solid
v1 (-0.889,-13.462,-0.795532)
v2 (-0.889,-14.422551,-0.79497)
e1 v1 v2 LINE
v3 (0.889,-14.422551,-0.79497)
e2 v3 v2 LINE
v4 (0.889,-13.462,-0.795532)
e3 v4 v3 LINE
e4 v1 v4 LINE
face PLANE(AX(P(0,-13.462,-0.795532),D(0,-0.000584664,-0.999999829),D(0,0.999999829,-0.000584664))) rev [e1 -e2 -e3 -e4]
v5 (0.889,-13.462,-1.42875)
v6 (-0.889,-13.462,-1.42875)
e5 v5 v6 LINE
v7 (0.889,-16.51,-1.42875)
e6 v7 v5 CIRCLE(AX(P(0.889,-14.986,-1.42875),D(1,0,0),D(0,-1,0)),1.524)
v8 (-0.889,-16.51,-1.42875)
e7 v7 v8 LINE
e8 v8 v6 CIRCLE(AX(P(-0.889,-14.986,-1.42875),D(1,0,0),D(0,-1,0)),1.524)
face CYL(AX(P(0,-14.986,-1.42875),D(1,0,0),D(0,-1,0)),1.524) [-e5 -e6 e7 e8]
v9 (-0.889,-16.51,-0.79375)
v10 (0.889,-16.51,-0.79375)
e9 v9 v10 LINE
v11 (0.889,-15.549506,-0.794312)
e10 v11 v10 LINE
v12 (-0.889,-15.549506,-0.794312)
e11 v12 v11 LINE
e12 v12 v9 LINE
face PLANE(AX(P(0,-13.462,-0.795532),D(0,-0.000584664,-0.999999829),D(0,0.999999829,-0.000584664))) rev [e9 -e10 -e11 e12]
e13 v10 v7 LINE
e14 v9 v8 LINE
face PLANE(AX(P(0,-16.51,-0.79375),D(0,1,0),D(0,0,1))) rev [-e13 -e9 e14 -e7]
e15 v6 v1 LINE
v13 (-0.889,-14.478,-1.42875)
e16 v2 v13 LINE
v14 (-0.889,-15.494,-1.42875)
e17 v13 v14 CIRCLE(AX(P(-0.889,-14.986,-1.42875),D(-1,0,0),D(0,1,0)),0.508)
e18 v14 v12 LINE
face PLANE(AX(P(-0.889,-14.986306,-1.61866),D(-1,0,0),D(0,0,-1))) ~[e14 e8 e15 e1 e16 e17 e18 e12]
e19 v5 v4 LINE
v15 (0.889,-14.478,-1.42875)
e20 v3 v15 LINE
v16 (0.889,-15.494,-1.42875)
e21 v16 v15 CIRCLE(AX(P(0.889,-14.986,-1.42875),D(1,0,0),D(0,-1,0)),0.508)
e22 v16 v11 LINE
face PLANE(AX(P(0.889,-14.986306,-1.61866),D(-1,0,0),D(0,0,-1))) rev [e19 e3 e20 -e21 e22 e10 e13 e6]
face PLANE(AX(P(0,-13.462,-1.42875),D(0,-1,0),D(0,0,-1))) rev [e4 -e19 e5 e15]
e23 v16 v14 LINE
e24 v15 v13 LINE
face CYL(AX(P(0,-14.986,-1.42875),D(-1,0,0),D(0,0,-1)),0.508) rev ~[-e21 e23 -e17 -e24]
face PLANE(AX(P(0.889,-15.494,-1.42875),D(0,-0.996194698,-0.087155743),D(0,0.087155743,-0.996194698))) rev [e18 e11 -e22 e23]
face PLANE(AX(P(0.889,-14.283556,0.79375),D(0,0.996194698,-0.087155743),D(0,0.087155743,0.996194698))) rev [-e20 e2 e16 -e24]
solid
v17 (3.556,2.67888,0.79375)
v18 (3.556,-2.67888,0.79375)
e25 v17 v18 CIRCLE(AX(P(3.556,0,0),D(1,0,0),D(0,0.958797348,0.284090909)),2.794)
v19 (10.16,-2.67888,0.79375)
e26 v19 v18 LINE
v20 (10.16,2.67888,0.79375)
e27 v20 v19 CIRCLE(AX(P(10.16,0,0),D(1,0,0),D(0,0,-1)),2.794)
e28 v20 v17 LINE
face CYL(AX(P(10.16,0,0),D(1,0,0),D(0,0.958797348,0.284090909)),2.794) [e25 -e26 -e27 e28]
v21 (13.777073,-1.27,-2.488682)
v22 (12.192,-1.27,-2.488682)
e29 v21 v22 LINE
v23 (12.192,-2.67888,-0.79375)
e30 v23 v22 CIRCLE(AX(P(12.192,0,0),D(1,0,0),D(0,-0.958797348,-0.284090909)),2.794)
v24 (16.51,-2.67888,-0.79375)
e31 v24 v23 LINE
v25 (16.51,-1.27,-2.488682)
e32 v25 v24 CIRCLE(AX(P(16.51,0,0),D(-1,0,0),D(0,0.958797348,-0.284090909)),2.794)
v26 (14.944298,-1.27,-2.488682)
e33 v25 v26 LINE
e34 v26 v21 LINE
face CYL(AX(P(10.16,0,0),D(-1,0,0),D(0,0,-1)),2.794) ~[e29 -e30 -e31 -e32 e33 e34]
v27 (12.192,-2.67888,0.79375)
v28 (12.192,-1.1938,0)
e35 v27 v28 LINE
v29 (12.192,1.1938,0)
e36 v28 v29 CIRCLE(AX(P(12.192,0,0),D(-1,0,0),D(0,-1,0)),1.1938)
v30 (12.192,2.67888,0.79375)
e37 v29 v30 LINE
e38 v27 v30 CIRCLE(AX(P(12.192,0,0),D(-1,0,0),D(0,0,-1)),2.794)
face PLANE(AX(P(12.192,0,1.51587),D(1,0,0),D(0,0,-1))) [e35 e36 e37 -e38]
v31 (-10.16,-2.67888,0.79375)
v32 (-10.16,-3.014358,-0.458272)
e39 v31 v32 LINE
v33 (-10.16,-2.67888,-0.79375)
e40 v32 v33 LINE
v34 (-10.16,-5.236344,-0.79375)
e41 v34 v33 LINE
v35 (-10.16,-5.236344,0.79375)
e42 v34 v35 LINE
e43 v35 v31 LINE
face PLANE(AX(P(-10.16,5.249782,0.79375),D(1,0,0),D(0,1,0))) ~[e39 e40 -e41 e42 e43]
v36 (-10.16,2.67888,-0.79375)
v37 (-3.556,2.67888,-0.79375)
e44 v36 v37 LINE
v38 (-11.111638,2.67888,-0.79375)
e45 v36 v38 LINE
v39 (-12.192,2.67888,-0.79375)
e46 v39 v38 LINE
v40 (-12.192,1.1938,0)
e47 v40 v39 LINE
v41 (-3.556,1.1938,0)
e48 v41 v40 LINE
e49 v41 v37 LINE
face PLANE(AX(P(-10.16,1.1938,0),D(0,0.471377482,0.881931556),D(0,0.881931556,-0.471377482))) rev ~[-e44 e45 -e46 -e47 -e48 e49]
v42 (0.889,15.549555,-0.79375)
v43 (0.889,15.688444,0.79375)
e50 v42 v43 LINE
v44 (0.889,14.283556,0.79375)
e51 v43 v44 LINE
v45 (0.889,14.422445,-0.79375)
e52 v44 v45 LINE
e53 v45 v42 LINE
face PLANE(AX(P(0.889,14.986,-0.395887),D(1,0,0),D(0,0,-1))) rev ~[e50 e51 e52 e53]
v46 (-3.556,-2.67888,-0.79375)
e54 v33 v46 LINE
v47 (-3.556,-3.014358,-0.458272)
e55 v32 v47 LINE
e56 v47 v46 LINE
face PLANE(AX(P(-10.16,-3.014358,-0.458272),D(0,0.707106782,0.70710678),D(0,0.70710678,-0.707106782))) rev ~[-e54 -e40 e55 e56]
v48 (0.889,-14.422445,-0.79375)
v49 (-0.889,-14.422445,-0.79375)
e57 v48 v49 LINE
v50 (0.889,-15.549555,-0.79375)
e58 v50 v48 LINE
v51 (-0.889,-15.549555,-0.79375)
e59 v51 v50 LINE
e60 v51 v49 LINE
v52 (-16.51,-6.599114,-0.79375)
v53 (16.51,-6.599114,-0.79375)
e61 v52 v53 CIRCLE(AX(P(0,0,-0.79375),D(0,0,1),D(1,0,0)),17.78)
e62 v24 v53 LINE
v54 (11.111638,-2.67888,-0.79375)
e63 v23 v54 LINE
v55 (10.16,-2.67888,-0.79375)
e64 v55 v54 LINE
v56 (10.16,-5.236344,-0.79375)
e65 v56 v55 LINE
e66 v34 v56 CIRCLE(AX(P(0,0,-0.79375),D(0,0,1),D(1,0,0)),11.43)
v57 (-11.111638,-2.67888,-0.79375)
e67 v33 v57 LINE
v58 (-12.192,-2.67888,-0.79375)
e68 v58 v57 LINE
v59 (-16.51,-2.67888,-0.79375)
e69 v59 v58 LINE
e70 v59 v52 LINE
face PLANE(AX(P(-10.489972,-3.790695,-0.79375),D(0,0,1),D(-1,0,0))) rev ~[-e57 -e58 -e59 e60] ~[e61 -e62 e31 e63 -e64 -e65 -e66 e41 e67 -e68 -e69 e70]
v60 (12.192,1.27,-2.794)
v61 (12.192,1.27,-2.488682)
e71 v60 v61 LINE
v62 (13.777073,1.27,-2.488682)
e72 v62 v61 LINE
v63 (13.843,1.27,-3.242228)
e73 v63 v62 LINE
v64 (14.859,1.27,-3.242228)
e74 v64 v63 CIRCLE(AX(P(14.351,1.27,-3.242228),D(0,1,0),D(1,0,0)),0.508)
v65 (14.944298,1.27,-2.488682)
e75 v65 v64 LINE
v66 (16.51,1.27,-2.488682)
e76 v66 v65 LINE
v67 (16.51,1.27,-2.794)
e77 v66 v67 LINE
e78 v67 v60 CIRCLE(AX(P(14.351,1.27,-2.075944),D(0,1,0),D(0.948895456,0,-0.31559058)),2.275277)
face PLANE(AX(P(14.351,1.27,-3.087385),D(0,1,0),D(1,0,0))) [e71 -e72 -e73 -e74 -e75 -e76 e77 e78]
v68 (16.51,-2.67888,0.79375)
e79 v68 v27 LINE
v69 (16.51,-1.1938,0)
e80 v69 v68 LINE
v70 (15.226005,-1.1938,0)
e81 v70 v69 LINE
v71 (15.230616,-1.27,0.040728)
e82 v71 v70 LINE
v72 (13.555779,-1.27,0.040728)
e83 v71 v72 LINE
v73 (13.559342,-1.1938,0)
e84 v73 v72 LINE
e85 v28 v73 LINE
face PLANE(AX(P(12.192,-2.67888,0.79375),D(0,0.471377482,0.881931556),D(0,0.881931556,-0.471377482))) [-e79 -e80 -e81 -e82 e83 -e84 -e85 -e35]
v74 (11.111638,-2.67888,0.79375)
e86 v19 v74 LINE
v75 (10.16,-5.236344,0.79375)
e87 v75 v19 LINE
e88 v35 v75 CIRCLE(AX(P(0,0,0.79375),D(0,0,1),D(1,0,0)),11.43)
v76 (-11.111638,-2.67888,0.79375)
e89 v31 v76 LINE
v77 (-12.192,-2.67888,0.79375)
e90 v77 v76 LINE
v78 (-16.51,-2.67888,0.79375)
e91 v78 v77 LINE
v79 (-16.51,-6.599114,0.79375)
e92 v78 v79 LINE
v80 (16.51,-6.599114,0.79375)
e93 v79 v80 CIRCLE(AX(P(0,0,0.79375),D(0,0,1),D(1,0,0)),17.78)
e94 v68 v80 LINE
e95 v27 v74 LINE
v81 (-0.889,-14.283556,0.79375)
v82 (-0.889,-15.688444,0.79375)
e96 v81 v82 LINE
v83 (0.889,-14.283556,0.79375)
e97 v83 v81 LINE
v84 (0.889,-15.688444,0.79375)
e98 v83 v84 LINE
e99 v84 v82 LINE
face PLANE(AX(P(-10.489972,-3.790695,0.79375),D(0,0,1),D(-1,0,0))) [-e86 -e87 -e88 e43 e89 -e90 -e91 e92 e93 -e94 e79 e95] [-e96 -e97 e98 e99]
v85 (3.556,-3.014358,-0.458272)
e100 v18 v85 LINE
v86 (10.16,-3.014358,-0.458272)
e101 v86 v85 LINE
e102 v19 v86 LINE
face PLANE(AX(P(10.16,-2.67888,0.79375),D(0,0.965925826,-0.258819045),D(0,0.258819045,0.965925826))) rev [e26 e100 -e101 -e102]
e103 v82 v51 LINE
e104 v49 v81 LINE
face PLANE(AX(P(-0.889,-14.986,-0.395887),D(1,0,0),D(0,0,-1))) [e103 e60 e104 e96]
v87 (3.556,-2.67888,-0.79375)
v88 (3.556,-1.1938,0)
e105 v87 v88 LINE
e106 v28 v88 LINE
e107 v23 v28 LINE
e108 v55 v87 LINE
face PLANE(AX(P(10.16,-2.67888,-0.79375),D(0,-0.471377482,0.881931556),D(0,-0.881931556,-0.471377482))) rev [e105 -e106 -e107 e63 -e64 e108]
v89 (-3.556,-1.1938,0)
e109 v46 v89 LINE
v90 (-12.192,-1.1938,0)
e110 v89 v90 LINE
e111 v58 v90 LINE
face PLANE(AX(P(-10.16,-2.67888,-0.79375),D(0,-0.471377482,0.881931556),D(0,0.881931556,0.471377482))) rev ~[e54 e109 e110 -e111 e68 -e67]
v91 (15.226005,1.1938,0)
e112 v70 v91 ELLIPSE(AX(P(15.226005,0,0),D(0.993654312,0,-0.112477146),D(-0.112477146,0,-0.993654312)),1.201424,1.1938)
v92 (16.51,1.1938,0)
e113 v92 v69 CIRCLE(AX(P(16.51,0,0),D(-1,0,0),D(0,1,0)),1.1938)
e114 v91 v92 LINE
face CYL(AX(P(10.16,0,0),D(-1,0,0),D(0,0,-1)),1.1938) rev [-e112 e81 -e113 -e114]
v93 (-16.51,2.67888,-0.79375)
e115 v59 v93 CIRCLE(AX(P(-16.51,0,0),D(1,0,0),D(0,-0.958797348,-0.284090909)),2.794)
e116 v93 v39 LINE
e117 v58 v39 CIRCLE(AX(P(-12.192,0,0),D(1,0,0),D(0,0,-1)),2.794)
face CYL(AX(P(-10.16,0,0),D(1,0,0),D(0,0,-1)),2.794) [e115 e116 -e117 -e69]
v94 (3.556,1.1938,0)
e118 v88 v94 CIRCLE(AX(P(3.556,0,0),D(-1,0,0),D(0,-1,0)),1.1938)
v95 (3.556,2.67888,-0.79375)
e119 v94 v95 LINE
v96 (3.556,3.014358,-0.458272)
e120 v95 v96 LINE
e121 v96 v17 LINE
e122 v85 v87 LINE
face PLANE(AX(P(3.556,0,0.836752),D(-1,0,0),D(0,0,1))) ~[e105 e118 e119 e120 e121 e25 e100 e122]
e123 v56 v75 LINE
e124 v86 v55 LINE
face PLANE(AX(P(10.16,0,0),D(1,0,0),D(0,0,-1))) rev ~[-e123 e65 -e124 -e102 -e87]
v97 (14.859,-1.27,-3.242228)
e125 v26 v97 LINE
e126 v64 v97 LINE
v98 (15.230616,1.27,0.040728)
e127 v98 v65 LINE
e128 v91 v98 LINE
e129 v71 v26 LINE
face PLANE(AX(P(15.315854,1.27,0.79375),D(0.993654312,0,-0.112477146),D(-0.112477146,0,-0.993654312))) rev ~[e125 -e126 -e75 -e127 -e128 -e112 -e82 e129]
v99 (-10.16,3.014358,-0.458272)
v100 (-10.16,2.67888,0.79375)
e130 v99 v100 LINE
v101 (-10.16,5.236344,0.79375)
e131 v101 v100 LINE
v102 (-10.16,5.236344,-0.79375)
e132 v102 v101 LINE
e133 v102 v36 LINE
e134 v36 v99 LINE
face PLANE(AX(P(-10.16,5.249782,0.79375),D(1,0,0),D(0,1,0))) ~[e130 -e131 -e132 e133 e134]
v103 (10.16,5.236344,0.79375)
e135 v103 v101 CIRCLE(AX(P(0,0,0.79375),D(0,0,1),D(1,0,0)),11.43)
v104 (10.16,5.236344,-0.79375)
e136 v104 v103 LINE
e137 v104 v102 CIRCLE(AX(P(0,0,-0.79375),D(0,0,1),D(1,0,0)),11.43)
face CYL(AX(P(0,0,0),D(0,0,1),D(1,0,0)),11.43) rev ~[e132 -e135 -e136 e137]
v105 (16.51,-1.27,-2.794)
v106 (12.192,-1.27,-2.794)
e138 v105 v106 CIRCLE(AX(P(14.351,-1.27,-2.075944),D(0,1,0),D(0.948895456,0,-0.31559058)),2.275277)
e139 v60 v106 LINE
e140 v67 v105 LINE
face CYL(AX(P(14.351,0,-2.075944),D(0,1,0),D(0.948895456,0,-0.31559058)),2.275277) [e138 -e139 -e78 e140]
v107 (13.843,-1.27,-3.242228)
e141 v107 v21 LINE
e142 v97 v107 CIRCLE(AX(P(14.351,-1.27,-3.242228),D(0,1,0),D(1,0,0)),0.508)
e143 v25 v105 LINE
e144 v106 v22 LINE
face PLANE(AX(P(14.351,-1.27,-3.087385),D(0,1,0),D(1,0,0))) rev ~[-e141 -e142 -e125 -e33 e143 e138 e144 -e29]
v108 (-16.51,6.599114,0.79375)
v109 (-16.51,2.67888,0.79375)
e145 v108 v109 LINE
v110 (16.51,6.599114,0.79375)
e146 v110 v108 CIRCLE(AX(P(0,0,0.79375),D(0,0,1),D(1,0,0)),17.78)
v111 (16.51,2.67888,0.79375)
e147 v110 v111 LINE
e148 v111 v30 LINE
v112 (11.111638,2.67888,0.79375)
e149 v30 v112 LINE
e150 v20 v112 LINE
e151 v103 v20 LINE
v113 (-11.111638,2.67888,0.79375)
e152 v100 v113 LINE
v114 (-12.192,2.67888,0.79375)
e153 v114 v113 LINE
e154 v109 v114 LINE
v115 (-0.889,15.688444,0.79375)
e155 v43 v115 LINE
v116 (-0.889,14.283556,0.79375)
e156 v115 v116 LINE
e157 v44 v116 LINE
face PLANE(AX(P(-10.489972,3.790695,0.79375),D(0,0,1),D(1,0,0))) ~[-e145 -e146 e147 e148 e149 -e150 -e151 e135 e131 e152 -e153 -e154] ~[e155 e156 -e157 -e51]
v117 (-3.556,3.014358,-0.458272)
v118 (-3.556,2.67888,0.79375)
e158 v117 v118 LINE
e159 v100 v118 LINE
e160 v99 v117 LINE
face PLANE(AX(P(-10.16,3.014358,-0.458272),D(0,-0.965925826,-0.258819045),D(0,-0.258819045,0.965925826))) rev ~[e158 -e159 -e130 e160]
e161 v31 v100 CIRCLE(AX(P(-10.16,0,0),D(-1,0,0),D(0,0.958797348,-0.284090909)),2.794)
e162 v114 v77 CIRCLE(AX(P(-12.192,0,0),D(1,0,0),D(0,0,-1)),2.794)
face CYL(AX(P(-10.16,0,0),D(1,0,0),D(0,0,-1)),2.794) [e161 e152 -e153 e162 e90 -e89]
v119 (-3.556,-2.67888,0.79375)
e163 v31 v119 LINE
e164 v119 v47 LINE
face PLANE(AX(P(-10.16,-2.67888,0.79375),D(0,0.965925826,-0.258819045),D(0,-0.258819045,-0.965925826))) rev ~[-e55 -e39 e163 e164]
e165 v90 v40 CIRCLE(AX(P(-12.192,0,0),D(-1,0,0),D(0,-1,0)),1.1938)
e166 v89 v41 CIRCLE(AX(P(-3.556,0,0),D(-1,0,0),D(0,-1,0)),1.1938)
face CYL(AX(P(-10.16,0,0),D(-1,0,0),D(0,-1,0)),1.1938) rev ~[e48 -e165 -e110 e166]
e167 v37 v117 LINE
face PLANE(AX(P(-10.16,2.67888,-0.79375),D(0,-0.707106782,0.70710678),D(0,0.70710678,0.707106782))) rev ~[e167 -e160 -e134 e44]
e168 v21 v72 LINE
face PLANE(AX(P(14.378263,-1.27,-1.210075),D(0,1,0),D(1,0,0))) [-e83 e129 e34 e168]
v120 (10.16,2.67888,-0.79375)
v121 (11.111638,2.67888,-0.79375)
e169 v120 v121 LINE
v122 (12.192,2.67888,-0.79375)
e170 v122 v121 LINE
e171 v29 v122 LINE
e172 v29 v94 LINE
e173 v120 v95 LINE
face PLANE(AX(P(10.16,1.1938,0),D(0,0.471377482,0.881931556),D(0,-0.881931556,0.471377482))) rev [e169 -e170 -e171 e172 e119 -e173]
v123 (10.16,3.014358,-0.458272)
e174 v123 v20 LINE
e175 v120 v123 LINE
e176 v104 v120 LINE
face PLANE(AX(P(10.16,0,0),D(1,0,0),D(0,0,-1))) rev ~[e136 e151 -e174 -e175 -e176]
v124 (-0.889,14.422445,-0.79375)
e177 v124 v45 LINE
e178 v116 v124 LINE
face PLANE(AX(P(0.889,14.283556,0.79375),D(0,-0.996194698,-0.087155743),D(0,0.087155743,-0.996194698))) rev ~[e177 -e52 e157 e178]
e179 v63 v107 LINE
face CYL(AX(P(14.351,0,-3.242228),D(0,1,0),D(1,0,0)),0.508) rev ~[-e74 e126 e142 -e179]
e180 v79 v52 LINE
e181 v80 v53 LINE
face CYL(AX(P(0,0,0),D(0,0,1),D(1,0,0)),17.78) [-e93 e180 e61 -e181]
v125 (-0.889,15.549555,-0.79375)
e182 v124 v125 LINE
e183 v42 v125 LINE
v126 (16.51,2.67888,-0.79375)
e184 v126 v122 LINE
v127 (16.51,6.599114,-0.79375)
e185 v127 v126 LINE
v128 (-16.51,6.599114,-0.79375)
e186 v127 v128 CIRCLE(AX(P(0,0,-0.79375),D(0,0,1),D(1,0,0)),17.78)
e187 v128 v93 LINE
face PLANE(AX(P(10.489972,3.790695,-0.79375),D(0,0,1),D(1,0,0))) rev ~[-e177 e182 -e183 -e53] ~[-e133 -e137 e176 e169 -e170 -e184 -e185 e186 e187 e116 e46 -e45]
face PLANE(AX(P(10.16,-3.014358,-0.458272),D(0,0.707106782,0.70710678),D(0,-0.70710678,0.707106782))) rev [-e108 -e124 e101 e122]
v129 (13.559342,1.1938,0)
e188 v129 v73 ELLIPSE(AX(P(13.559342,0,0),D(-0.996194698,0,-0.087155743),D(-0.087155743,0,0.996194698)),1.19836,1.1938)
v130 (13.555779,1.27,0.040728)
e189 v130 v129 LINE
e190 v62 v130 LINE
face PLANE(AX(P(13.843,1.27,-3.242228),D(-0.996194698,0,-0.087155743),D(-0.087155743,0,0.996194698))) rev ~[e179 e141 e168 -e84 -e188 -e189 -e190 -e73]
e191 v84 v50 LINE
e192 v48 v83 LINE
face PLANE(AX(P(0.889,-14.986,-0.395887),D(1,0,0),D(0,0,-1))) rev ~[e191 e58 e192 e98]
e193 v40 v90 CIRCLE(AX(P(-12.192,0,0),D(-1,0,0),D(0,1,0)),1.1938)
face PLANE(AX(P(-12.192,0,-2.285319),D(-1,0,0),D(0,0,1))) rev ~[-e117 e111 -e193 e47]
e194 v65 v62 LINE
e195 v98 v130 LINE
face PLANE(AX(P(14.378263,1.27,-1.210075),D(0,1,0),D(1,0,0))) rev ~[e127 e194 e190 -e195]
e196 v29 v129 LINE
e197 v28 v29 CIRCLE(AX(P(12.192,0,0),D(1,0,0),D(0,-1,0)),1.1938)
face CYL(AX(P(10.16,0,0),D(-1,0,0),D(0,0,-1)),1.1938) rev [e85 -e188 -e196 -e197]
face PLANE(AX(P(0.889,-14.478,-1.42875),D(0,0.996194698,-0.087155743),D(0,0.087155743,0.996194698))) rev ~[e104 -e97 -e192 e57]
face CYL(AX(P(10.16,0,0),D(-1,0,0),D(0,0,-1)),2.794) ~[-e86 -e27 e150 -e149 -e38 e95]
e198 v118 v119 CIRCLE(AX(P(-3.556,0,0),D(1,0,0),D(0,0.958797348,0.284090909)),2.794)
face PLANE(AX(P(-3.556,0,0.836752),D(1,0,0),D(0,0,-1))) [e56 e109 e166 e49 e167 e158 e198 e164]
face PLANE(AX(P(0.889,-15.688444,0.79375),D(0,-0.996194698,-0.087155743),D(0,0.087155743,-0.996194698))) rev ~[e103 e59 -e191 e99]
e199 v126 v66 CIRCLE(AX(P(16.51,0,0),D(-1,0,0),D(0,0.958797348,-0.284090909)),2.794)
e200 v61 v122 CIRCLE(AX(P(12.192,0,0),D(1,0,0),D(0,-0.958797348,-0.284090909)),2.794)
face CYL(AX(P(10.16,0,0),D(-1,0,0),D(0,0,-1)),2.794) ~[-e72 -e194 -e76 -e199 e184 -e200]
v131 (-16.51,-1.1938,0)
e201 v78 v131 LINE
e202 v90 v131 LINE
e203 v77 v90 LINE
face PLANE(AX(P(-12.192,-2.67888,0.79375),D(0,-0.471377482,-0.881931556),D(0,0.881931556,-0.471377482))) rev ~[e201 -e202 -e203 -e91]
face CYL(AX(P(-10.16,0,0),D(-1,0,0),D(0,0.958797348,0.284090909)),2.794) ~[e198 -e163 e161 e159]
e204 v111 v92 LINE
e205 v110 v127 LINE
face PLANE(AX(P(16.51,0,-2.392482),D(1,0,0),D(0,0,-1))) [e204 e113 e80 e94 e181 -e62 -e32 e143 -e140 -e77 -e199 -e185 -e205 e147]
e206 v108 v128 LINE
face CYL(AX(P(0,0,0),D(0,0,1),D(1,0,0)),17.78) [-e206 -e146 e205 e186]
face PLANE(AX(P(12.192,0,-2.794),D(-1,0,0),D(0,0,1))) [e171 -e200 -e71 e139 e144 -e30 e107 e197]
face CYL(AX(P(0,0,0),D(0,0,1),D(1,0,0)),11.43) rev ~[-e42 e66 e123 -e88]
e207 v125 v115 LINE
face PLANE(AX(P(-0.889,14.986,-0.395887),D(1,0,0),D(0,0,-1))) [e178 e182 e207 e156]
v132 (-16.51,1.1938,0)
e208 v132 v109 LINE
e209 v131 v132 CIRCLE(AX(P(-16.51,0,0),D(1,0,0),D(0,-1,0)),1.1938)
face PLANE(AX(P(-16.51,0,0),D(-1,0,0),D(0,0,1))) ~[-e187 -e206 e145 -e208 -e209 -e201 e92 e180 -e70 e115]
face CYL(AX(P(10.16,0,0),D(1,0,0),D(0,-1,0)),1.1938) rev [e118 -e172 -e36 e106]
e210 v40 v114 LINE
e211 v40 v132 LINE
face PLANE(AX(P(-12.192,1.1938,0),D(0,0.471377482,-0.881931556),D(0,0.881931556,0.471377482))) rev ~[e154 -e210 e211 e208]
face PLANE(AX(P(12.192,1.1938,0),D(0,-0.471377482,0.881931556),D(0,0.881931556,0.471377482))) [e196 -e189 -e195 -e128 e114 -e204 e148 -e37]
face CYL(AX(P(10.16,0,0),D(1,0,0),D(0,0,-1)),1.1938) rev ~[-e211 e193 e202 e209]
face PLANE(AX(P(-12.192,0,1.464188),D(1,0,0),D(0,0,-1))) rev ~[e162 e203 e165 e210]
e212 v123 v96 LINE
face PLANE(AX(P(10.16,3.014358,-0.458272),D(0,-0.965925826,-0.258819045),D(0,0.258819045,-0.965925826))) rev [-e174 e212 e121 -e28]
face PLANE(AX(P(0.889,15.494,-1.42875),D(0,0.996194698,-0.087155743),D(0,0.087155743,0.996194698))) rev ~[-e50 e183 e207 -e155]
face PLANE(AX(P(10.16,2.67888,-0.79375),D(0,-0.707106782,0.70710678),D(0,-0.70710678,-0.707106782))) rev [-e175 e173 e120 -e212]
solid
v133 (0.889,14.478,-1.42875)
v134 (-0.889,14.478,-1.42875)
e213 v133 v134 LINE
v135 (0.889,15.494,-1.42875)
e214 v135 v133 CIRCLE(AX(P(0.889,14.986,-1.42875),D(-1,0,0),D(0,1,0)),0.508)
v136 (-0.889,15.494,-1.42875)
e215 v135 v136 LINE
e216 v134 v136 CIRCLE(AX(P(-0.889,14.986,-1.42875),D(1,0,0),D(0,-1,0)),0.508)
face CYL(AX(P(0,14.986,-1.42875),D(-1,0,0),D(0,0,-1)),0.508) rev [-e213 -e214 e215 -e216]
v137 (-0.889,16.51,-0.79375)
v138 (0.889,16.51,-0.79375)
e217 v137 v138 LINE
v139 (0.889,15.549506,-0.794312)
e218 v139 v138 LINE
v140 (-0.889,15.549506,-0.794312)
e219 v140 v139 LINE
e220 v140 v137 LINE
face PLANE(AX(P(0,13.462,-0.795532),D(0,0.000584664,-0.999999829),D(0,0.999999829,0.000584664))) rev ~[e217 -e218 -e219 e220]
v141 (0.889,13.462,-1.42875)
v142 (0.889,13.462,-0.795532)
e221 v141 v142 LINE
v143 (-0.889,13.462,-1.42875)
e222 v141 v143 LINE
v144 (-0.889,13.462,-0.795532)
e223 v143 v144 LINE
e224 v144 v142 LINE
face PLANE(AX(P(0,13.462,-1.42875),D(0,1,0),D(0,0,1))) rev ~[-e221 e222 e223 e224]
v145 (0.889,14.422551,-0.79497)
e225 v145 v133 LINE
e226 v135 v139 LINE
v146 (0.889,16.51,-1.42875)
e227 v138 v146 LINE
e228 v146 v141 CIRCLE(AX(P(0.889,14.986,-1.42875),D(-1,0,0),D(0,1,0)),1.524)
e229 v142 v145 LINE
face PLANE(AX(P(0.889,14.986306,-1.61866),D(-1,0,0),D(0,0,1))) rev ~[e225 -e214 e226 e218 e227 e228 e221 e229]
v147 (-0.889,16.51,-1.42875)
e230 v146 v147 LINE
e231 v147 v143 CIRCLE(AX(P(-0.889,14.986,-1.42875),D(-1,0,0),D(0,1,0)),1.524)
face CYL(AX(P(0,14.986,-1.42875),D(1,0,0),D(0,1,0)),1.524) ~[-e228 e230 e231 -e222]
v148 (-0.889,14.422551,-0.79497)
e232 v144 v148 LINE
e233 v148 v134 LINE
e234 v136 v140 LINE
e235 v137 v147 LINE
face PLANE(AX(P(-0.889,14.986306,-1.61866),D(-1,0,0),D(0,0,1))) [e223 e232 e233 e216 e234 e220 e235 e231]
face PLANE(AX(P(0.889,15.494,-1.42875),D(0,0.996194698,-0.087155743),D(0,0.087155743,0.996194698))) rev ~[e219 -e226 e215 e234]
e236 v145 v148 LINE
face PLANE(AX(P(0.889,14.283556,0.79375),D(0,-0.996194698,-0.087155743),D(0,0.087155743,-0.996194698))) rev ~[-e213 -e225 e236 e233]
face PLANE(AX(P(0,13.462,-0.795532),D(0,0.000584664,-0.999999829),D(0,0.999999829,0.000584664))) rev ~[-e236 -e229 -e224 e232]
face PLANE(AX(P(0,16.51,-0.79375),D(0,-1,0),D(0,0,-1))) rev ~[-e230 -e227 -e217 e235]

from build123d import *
from build123d.topology import SkipClean

# Parameters (mm, degrees)
BOSS_EXTRUDE1_DEPTH                           = 0.79375
BOSS_EXTRUDE1_DEPTH_BACK                      = 0.79375
SKETCH1_R                                     = 17.78
SKETCH1_R_2                                   = 11.43
SKETCH20_R                                    = 2.794
BOSS_EXTRUDE7_DEPTH                           = 6.35
CUT_FOR_SCREW_CLEARANCE_ON_SIDE_DEPTH         = 26.39938485
CUT_FOR_AXLE_DEPTH                            = 33.174893036
CUT_FOR_AXLE_DEPTH_BACK                       = 33.174893036
SKETCH22_R                                    = 1.1938
CUT1_FOR_STRAIGHT_PULL_ON_AXLE_HOLE_DEPTH     = 2.032
CUT2_FOR_STRAIGHT_PULL_ON_AXLE_HOLE_DEPTH     = 34.878306426
X_AXIS_RING_DEPTH                             = 1.27
X_AXIS_RING_DEPTH_BACK                        = 1.27
SKETCH42_R                                    = 0.508
CUT_START                                     = -2.54
CUT_FOR_STRAIGHT_PULL_ON_X_AXIS_RING_DEPTH    = 2.54
Y_AXIS_CONTROL_WIRE_RING_DEPTH                = 0.889
Y_AXIS_CONTROL_WIRE_RING_DEPTH_BACK           = 0.889
SKETCH29_R                                    = 0.508
Y_AXIS_STRAIGHT_PULL_FEATURE_DEPTH            = 1.778
Y_AXIS_STRAIGHT_PULL_FEATURE_ON_MIRRORR_DEPTH = 1.778
BUILD_OUT_MATERIAL_FOR_AXLE_HOLE_DEPTH        = 1.5875
MIRROR17_COPY_1_DEPTH                         = 1.5875
CUT_EXTRUDE1_START                            = -2.032
CUT_EXTRUDE1_DEPTH                            = 2.032
CUT_EXTRUDE2_DEPTH                            = 35.042125789
BOSS_EXTRUDE8_DEPTH                           = 6.604


with BuildPart() as part:
    # Sketch1 → Boss-Extrude1 (new, two sides: drawn at the far end of the back side and taken through both)
    with BuildSketch(Plane.XY.offset(-BOSS_EXTRUDE1_DEPTH_BACK)):
        Circle(SKETCH1_R)
        Circle(SKETCH1_R_2, mode=Mode.SUBTRACT)
    extrude(amount=BOSS_EXTRUDE1_DEPTH + BOSS_EXTRUDE1_DEPTH_BACK)

    # Sketch20 → Boss-Extrude7 (add)
    with BuildSketch(Plane(origin=(10.16, 0, 0), x_dir=(0, 0, -1), z_dir=(1, 0, 0))):
        Circle(SKETCH20_R)
    boss_extrude7 = extrude(amount=BOSS_EXTRUDE7_DEPTH)

    # Sketch21 → cut for screw clearance on side (cut, through all)
    with BuildSketch(Plane.XY.offset(0.79375)):
        Polygon((16.51, 0), (16.51, 6.599113577), (17.78, 6.599113577), (17.78, 0), (17.78, -6.599113577), (16.51, -6.599113577), align=None)
    cut_for_screw_clearance_on_side = extrude(amount=-CUT_FOR_SCREW_CLEARANCE_ON_SIDE_DEPTH, mode=Mode.SUBTRACT)

    # Mirror1: Boss-Extrude7, cut for screw clearance on side across plane
    add(boss_extrude7.mirror(Plane(origin=(0, 0, 0), x_dir=(0, 0, 1), z_dir=(1, 0, 0))))
    add(cut_for_screw_clearance_on_side.mirror(Plane(origin=(0, 0, 0), x_dir=(0, 0, 1), z_dir=(1, 0, 0))), mode=Mode.SUBTRACT)

    # Sketch22 → cut for axle (cut, two sides: drawn at the far end of the back side and taken through both)
    with BuildSketch(Plane(origin=(10.16, 0, 0), x_dir=(0, 0, -1), z_dir=(1, 0, 0)).offset(-CUT_FOR_AXLE_DEPTH_BACK)):
        Circle(SKETCH22_R)
    extrude(amount=CUT_FOR_AXLE_DEPTH + CUT_FOR_AXLE_DEPTH_BACK, mode=Mode.SUBTRACT)

    # Sketch35 → cut1 for straight pull on axle hole (cut)
    with BuildSketch(Plane.ZY.offset(-10.16)):
        with BuildLine():
            Line((0, 1.1938), (-0.79375, 2.678879792))
            Line((-0.79375, 2.678879792), (-3.088550318, 2.678879792))
            Line((-3.088550318, 2.678879792), (-3.088550318, -2.678879792))
            Line((-3.088550318, -2.678879792), (-0.79375, -2.678879792))
            Line((-0.79375, -2.678879792), (0, -1.1938))
            ThreePointArc((0, -1.1938), (1.1938, 0), (0, 1.1938))
        make_face()
    extrude(amount=-CUT1_FOR_STRAIGHT_PULL_ON_AXLE_HOLE_DEPTH, mode=Mode.SUBTRACT)

    # Sketch41 → cut2 for straight pull on axle hole (cut, through all)
    with BuildSketch(Plane.ZY.offset(-12.192)):
        with BuildLine():
            Line((0, 1.1938), (0.79375, 2.678879792))
            Line((0.79375, 2.678879792), (3.158535805, 2.885771741))
            Line((3.158535805, 2.885771741), (3.158535805, -2.885771741))
            Line((3.158535805, -2.885771741), (0.79375, -2.678879792))
            Line((0.79375, -2.678879792), (0, -1.1938))
            ThreePointArc((0, -1.1938), (-1.1938, 0), (0, 1.1938))
        make_face()
    extrude(amount=-CUT2_FOR_STRAIGHT_PULL_ON_AXLE_HOLE_DEPTH, mode=Mode.SUBTRACT)

    # Sketch42 → x axis ring (add, two sides: drawn at the far end of the back side and taken through both)
    with BuildSketch(Plane(origin=(0, 0, 0), x_dir=(1, 0, 0), z_dir=(0, 1, 0)).offset(-X_AXIS_RING_DEPTH_BACK)):
        with BuildLine():
            Line((12.192, 2.794), (12.192, 2.392482279))
            Line((12.192, 2.392482279), (16.51, 2.392482279))
            Line((16.51, 2.392482279), (16.51, 2.794))
            ThreePointArc((16.51, 2.794), (14.351, 4.351221008), (12.192, 2.794))
        make_face()
        with Locations((14.351, 3.242227956)):
            Circle(SKETCH42_R, mode=Mode.SUBTRACT)
    extrude(amount=X_AXIS_RING_DEPTH + X_AXIS_RING_DEPTH_BACK)

    # Sketch43 → cut for straight pull on x axis ring (cut)
    with BuildSketch(Plane(origin=(0, 1.27, 0), x_dir=(1, 0, 0), z_dir=(0, 1, 0)).offset(CUT_START)):
        with BuildLine():
            Line((13.843, 3.242227956), (13.489897683, -0.79375))
            Line((13.489897683, -0.79375), (15.315854335, -0.79375))
            Line((15.315854335, -0.79375), (14.859, 3.242227956))
            ThreePointArc((14.859, 3.242227956), (14.351, 3.750227956), (13.843, 3.242227956))
        make_face()
    extrude(amount=CUT_FOR_STRAIGHT_PULL_ON_X_AXIS_RING_DEPTH, mode=Mode.SUBTRACT)


with BuildPart() as body_2:
    # Sketch29 → y axis control wire ring (new, two sides: drawn at the far end of the back side and taken through both)
    with BuildSketch(Plane(origin=(0, 0, 0), x_dir=(0, 0, -1), z_dir=(1, 0, 0)).offset(-Y_AXIS_CONTROL_WIRE_RING_DEPTH_BACK)):
        with BuildLine():
            Line((0.79375, 16.51), (1.42875, 16.51))
            ThreePointArc((1.42875, 16.51), (2.95275, 14.986), (1.42875, 13.462))
            Line((1.42875, 13.462), (0.795532055, 13.462))
            Line((0.795532055, 13.462), (0.79375, 16.51))
        make_face()
        with Locations((1.42875, 14.986)):
            Circle(SKETCH29_R, mode=Mode.SUBTRACT)
    extrude(amount=Y_AXIS_CONTROL_WIRE_RING_DEPTH + Y_AXIS_CONTROL_WIRE_RING_DEPTH_BACK)


with BuildPart() as y_axis_straight_pull_feature_tool:
    # Sketch30 → y axis straight pull feature (new body)
    with BuildSketch(Plane(origin=(0.889, 0, 0), x_dir=(0, 0, -1), z_dir=(1, 0, 0))):
        with BuildLine():
            Line((1.42875, 15.494), (-0.79375, 15.688443555))
            Line((-0.79375, 15.688443555), (-0.79375, 14.283556445))
            Line((-0.79375, 14.283556445), (1.42875, 14.478))
            ThreePointArc((1.42875, 14.478), (1.93675, 14.986), (1.42875, 15.494))
        make_face()
    extrude(amount=-Y_AXIS_STRAIGHT_PULL_FEATURE_DEPTH)


with BuildPart() as part_1:
    add(part.part)

    # y axis straight pull feature: cut by y_axis_straight_pull_feature_tool
    add(y_axis_straight_pull_feature_tool.part, mode=Mode.SUBTRACT)

    # Sketch31 → y axis straight pull feature on mirrorr (cut)
    with BuildSketch(Plane(origin=(0.889, 0, 0), x_dir=(0, 0, -1), z_dir=(1, 0, 0))):
        with BuildLine():
            Line((1.42875, -14.478), (-0.79375, -14.283556445))
            Line((-0.79375, -14.283556445), (-0.79375, -15.688443555))
            Line((-0.79375, -15.688443555), (1.42875, -15.494))
            ThreePointArc((1.42875, -15.494), (1.93675, -14.986), (1.42875, -14.478))
        make_face()
    extrude(amount=-Y_AXIS_STRAIGHT_PULL_FEATURE_ON_MIRRORR_DEPTH, mode=Mode.SUBTRACT)

    # Sketch40 → build out material for axle hole (add)
    with BuildSketch(Plane.XY.offset(0.79375)):
        Polygon((10.16, 5.249781847), (10.16, 2.678879792), (11.111638181, 2.678879792), (10.736884246, 4.372121259), align=None)
    build_out_material_for_axle_hole = extrude(amount=-BUILD_OUT_MATERIAL_FOR_AXLE_HOLE_DEPTH)

    # Mirror16: build out material for axle hole across plane
    add(build_out_material_for_axle_hole.mirror(Plane.ZX))

    # Mirror17: build out material for axle hole across plane
    add(build_out_material_for_axle_hole.mirror(Plane(origin=(0, 0, 0), x_dir=(0, 0, 1), z_dir=(1, 0, 0))))

    # Mirror17 copy 1 sketch → Mirror17 copy 1 (add)
    with BuildSketch(Plane(origin=(0, 0, 0.79375), x_dir=(-1, 0, 0), z_dir=(0, 0, 1))):
        Polygon((10.16, 5.249781847), (10.16, 2.678879792), (11.111638181, 2.678879792), (10.736884246, 4.372121259), align=None)
    extrude(amount=-MIRROR17_COPY_1_DEPTH)

    # Sketch44 → Cut-Extrude1 (cut)
    with SkipClean():  # the faces are left unmerged after this step: merging them gives an invalid solid
        with BuildSketch(Plane(origin=(-10.16, 0, 0), x_dir=(0, 0, -1), z_dir=(1, 0, 0)).offset(CUT_EXTRUDE1_START)):
            with BuildLine():
                Line((0, 1.1938), (0.79375, 2.678879792))
                Line((0.79375, 2.678879792), (4.74590947, 2.678879792))
                Line((4.74590947, 2.678879792), (4.74590947, -2.678879792))
                Line((4.74590947, -2.678879792), (0.79375, -2.678879792))
                Line((0.79375, -2.678879792), (0, -1.1938))
                ThreePointArc((0, -1.1938), (-1.1938, 0), (0, 1.1938))
            make_face()
        extrude(amount=CUT_EXTRUDE1_DEPTH, mode=Mode.SUBTRACT)

    # Sketch45 → Cut-Extrude2 (cut, through all)
    with BuildSketch(Plane(origin=(-12.192, 0, 0), x_dir=(0, 0, -1), z_dir=(1, 0, 0))):
        with BuildLine():
            Line((0, 1.1938), (-0.79375, 2.678879792))
            Line((-0.79375, 2.678879792), (-3.136476286, 2.678879792))
            Line((-3.136476286, 2.678879792), (-3.136476286, -2.678879792))
            Line((-3.136476286, -2.678879792), (-0.79375, -2.678879792))
            Line((-0.79375, -2.678879792), (0, -1.1938))
            ThreePointArc((0, -1.1938), (1.1938, 0), (0, 1.1938))
        make_face()
    extrude(amount=-CUT_EXTRUDE2_DEPTH, mode=Mode.SUBTRACT)

    # Sketch46 → Boss-Extrude8 (add)
    with BuildSketch(Plane(origin=(-10.16, 0, 0), x_dir=(0, 0, -1), z_dir=(1, 0, 0))):
        with BuildLine():
            Line((0.79375, 2.678879792), (0.458271776, 3.014358015))
            Line((0.458271776, 3.014358015), (-0.79375, 2.678879792))
            ThreePointArc((-0.79375, 2.678879792), (-2.794, 0), (-0.79375, -2.678879792))
            Line((-0.79375, -2.678879792), (0.458271776, -3.014358015))
            Line((0.458271776, -3.014358015), (0.79375, -2.678879792))
            Line((0.79375, -2.678879792), (0, -1.1938))
            ThreePointArc((0, -1.1938), (-1.1938, 0), (0, 1.1938))
            Line((0, 1.1938), (0.79375, 2.678879792))
        make_face()
    boss_extrude8 = extrude(amount=BOSS_EXTRUDE8_DEPTH)

    # Mirror19: Boss-Extrude8 across plane
    add(boss_extrude8.mirror(Plane(origin=(0, 0, 0), x_dir=(0, 0, 1), z_dir=(1, 0, 0))))


with BuildPart() as body_2_1:
    add(body_2.part)

    # y axis straight pull feature: cut by y_axis_straight_pull_feature_tool
    add(y_axis_straight_pull_feature_tool.part, mode=Mode.SUBTRACT)


with BuildPart() as body_3:
    # mirror of y ring: mirrored copy
    add(body_2_1.part.mirror(Plane.ZX))


solid = Compound([part_1.part, body_2_1.part, body_3.part])
